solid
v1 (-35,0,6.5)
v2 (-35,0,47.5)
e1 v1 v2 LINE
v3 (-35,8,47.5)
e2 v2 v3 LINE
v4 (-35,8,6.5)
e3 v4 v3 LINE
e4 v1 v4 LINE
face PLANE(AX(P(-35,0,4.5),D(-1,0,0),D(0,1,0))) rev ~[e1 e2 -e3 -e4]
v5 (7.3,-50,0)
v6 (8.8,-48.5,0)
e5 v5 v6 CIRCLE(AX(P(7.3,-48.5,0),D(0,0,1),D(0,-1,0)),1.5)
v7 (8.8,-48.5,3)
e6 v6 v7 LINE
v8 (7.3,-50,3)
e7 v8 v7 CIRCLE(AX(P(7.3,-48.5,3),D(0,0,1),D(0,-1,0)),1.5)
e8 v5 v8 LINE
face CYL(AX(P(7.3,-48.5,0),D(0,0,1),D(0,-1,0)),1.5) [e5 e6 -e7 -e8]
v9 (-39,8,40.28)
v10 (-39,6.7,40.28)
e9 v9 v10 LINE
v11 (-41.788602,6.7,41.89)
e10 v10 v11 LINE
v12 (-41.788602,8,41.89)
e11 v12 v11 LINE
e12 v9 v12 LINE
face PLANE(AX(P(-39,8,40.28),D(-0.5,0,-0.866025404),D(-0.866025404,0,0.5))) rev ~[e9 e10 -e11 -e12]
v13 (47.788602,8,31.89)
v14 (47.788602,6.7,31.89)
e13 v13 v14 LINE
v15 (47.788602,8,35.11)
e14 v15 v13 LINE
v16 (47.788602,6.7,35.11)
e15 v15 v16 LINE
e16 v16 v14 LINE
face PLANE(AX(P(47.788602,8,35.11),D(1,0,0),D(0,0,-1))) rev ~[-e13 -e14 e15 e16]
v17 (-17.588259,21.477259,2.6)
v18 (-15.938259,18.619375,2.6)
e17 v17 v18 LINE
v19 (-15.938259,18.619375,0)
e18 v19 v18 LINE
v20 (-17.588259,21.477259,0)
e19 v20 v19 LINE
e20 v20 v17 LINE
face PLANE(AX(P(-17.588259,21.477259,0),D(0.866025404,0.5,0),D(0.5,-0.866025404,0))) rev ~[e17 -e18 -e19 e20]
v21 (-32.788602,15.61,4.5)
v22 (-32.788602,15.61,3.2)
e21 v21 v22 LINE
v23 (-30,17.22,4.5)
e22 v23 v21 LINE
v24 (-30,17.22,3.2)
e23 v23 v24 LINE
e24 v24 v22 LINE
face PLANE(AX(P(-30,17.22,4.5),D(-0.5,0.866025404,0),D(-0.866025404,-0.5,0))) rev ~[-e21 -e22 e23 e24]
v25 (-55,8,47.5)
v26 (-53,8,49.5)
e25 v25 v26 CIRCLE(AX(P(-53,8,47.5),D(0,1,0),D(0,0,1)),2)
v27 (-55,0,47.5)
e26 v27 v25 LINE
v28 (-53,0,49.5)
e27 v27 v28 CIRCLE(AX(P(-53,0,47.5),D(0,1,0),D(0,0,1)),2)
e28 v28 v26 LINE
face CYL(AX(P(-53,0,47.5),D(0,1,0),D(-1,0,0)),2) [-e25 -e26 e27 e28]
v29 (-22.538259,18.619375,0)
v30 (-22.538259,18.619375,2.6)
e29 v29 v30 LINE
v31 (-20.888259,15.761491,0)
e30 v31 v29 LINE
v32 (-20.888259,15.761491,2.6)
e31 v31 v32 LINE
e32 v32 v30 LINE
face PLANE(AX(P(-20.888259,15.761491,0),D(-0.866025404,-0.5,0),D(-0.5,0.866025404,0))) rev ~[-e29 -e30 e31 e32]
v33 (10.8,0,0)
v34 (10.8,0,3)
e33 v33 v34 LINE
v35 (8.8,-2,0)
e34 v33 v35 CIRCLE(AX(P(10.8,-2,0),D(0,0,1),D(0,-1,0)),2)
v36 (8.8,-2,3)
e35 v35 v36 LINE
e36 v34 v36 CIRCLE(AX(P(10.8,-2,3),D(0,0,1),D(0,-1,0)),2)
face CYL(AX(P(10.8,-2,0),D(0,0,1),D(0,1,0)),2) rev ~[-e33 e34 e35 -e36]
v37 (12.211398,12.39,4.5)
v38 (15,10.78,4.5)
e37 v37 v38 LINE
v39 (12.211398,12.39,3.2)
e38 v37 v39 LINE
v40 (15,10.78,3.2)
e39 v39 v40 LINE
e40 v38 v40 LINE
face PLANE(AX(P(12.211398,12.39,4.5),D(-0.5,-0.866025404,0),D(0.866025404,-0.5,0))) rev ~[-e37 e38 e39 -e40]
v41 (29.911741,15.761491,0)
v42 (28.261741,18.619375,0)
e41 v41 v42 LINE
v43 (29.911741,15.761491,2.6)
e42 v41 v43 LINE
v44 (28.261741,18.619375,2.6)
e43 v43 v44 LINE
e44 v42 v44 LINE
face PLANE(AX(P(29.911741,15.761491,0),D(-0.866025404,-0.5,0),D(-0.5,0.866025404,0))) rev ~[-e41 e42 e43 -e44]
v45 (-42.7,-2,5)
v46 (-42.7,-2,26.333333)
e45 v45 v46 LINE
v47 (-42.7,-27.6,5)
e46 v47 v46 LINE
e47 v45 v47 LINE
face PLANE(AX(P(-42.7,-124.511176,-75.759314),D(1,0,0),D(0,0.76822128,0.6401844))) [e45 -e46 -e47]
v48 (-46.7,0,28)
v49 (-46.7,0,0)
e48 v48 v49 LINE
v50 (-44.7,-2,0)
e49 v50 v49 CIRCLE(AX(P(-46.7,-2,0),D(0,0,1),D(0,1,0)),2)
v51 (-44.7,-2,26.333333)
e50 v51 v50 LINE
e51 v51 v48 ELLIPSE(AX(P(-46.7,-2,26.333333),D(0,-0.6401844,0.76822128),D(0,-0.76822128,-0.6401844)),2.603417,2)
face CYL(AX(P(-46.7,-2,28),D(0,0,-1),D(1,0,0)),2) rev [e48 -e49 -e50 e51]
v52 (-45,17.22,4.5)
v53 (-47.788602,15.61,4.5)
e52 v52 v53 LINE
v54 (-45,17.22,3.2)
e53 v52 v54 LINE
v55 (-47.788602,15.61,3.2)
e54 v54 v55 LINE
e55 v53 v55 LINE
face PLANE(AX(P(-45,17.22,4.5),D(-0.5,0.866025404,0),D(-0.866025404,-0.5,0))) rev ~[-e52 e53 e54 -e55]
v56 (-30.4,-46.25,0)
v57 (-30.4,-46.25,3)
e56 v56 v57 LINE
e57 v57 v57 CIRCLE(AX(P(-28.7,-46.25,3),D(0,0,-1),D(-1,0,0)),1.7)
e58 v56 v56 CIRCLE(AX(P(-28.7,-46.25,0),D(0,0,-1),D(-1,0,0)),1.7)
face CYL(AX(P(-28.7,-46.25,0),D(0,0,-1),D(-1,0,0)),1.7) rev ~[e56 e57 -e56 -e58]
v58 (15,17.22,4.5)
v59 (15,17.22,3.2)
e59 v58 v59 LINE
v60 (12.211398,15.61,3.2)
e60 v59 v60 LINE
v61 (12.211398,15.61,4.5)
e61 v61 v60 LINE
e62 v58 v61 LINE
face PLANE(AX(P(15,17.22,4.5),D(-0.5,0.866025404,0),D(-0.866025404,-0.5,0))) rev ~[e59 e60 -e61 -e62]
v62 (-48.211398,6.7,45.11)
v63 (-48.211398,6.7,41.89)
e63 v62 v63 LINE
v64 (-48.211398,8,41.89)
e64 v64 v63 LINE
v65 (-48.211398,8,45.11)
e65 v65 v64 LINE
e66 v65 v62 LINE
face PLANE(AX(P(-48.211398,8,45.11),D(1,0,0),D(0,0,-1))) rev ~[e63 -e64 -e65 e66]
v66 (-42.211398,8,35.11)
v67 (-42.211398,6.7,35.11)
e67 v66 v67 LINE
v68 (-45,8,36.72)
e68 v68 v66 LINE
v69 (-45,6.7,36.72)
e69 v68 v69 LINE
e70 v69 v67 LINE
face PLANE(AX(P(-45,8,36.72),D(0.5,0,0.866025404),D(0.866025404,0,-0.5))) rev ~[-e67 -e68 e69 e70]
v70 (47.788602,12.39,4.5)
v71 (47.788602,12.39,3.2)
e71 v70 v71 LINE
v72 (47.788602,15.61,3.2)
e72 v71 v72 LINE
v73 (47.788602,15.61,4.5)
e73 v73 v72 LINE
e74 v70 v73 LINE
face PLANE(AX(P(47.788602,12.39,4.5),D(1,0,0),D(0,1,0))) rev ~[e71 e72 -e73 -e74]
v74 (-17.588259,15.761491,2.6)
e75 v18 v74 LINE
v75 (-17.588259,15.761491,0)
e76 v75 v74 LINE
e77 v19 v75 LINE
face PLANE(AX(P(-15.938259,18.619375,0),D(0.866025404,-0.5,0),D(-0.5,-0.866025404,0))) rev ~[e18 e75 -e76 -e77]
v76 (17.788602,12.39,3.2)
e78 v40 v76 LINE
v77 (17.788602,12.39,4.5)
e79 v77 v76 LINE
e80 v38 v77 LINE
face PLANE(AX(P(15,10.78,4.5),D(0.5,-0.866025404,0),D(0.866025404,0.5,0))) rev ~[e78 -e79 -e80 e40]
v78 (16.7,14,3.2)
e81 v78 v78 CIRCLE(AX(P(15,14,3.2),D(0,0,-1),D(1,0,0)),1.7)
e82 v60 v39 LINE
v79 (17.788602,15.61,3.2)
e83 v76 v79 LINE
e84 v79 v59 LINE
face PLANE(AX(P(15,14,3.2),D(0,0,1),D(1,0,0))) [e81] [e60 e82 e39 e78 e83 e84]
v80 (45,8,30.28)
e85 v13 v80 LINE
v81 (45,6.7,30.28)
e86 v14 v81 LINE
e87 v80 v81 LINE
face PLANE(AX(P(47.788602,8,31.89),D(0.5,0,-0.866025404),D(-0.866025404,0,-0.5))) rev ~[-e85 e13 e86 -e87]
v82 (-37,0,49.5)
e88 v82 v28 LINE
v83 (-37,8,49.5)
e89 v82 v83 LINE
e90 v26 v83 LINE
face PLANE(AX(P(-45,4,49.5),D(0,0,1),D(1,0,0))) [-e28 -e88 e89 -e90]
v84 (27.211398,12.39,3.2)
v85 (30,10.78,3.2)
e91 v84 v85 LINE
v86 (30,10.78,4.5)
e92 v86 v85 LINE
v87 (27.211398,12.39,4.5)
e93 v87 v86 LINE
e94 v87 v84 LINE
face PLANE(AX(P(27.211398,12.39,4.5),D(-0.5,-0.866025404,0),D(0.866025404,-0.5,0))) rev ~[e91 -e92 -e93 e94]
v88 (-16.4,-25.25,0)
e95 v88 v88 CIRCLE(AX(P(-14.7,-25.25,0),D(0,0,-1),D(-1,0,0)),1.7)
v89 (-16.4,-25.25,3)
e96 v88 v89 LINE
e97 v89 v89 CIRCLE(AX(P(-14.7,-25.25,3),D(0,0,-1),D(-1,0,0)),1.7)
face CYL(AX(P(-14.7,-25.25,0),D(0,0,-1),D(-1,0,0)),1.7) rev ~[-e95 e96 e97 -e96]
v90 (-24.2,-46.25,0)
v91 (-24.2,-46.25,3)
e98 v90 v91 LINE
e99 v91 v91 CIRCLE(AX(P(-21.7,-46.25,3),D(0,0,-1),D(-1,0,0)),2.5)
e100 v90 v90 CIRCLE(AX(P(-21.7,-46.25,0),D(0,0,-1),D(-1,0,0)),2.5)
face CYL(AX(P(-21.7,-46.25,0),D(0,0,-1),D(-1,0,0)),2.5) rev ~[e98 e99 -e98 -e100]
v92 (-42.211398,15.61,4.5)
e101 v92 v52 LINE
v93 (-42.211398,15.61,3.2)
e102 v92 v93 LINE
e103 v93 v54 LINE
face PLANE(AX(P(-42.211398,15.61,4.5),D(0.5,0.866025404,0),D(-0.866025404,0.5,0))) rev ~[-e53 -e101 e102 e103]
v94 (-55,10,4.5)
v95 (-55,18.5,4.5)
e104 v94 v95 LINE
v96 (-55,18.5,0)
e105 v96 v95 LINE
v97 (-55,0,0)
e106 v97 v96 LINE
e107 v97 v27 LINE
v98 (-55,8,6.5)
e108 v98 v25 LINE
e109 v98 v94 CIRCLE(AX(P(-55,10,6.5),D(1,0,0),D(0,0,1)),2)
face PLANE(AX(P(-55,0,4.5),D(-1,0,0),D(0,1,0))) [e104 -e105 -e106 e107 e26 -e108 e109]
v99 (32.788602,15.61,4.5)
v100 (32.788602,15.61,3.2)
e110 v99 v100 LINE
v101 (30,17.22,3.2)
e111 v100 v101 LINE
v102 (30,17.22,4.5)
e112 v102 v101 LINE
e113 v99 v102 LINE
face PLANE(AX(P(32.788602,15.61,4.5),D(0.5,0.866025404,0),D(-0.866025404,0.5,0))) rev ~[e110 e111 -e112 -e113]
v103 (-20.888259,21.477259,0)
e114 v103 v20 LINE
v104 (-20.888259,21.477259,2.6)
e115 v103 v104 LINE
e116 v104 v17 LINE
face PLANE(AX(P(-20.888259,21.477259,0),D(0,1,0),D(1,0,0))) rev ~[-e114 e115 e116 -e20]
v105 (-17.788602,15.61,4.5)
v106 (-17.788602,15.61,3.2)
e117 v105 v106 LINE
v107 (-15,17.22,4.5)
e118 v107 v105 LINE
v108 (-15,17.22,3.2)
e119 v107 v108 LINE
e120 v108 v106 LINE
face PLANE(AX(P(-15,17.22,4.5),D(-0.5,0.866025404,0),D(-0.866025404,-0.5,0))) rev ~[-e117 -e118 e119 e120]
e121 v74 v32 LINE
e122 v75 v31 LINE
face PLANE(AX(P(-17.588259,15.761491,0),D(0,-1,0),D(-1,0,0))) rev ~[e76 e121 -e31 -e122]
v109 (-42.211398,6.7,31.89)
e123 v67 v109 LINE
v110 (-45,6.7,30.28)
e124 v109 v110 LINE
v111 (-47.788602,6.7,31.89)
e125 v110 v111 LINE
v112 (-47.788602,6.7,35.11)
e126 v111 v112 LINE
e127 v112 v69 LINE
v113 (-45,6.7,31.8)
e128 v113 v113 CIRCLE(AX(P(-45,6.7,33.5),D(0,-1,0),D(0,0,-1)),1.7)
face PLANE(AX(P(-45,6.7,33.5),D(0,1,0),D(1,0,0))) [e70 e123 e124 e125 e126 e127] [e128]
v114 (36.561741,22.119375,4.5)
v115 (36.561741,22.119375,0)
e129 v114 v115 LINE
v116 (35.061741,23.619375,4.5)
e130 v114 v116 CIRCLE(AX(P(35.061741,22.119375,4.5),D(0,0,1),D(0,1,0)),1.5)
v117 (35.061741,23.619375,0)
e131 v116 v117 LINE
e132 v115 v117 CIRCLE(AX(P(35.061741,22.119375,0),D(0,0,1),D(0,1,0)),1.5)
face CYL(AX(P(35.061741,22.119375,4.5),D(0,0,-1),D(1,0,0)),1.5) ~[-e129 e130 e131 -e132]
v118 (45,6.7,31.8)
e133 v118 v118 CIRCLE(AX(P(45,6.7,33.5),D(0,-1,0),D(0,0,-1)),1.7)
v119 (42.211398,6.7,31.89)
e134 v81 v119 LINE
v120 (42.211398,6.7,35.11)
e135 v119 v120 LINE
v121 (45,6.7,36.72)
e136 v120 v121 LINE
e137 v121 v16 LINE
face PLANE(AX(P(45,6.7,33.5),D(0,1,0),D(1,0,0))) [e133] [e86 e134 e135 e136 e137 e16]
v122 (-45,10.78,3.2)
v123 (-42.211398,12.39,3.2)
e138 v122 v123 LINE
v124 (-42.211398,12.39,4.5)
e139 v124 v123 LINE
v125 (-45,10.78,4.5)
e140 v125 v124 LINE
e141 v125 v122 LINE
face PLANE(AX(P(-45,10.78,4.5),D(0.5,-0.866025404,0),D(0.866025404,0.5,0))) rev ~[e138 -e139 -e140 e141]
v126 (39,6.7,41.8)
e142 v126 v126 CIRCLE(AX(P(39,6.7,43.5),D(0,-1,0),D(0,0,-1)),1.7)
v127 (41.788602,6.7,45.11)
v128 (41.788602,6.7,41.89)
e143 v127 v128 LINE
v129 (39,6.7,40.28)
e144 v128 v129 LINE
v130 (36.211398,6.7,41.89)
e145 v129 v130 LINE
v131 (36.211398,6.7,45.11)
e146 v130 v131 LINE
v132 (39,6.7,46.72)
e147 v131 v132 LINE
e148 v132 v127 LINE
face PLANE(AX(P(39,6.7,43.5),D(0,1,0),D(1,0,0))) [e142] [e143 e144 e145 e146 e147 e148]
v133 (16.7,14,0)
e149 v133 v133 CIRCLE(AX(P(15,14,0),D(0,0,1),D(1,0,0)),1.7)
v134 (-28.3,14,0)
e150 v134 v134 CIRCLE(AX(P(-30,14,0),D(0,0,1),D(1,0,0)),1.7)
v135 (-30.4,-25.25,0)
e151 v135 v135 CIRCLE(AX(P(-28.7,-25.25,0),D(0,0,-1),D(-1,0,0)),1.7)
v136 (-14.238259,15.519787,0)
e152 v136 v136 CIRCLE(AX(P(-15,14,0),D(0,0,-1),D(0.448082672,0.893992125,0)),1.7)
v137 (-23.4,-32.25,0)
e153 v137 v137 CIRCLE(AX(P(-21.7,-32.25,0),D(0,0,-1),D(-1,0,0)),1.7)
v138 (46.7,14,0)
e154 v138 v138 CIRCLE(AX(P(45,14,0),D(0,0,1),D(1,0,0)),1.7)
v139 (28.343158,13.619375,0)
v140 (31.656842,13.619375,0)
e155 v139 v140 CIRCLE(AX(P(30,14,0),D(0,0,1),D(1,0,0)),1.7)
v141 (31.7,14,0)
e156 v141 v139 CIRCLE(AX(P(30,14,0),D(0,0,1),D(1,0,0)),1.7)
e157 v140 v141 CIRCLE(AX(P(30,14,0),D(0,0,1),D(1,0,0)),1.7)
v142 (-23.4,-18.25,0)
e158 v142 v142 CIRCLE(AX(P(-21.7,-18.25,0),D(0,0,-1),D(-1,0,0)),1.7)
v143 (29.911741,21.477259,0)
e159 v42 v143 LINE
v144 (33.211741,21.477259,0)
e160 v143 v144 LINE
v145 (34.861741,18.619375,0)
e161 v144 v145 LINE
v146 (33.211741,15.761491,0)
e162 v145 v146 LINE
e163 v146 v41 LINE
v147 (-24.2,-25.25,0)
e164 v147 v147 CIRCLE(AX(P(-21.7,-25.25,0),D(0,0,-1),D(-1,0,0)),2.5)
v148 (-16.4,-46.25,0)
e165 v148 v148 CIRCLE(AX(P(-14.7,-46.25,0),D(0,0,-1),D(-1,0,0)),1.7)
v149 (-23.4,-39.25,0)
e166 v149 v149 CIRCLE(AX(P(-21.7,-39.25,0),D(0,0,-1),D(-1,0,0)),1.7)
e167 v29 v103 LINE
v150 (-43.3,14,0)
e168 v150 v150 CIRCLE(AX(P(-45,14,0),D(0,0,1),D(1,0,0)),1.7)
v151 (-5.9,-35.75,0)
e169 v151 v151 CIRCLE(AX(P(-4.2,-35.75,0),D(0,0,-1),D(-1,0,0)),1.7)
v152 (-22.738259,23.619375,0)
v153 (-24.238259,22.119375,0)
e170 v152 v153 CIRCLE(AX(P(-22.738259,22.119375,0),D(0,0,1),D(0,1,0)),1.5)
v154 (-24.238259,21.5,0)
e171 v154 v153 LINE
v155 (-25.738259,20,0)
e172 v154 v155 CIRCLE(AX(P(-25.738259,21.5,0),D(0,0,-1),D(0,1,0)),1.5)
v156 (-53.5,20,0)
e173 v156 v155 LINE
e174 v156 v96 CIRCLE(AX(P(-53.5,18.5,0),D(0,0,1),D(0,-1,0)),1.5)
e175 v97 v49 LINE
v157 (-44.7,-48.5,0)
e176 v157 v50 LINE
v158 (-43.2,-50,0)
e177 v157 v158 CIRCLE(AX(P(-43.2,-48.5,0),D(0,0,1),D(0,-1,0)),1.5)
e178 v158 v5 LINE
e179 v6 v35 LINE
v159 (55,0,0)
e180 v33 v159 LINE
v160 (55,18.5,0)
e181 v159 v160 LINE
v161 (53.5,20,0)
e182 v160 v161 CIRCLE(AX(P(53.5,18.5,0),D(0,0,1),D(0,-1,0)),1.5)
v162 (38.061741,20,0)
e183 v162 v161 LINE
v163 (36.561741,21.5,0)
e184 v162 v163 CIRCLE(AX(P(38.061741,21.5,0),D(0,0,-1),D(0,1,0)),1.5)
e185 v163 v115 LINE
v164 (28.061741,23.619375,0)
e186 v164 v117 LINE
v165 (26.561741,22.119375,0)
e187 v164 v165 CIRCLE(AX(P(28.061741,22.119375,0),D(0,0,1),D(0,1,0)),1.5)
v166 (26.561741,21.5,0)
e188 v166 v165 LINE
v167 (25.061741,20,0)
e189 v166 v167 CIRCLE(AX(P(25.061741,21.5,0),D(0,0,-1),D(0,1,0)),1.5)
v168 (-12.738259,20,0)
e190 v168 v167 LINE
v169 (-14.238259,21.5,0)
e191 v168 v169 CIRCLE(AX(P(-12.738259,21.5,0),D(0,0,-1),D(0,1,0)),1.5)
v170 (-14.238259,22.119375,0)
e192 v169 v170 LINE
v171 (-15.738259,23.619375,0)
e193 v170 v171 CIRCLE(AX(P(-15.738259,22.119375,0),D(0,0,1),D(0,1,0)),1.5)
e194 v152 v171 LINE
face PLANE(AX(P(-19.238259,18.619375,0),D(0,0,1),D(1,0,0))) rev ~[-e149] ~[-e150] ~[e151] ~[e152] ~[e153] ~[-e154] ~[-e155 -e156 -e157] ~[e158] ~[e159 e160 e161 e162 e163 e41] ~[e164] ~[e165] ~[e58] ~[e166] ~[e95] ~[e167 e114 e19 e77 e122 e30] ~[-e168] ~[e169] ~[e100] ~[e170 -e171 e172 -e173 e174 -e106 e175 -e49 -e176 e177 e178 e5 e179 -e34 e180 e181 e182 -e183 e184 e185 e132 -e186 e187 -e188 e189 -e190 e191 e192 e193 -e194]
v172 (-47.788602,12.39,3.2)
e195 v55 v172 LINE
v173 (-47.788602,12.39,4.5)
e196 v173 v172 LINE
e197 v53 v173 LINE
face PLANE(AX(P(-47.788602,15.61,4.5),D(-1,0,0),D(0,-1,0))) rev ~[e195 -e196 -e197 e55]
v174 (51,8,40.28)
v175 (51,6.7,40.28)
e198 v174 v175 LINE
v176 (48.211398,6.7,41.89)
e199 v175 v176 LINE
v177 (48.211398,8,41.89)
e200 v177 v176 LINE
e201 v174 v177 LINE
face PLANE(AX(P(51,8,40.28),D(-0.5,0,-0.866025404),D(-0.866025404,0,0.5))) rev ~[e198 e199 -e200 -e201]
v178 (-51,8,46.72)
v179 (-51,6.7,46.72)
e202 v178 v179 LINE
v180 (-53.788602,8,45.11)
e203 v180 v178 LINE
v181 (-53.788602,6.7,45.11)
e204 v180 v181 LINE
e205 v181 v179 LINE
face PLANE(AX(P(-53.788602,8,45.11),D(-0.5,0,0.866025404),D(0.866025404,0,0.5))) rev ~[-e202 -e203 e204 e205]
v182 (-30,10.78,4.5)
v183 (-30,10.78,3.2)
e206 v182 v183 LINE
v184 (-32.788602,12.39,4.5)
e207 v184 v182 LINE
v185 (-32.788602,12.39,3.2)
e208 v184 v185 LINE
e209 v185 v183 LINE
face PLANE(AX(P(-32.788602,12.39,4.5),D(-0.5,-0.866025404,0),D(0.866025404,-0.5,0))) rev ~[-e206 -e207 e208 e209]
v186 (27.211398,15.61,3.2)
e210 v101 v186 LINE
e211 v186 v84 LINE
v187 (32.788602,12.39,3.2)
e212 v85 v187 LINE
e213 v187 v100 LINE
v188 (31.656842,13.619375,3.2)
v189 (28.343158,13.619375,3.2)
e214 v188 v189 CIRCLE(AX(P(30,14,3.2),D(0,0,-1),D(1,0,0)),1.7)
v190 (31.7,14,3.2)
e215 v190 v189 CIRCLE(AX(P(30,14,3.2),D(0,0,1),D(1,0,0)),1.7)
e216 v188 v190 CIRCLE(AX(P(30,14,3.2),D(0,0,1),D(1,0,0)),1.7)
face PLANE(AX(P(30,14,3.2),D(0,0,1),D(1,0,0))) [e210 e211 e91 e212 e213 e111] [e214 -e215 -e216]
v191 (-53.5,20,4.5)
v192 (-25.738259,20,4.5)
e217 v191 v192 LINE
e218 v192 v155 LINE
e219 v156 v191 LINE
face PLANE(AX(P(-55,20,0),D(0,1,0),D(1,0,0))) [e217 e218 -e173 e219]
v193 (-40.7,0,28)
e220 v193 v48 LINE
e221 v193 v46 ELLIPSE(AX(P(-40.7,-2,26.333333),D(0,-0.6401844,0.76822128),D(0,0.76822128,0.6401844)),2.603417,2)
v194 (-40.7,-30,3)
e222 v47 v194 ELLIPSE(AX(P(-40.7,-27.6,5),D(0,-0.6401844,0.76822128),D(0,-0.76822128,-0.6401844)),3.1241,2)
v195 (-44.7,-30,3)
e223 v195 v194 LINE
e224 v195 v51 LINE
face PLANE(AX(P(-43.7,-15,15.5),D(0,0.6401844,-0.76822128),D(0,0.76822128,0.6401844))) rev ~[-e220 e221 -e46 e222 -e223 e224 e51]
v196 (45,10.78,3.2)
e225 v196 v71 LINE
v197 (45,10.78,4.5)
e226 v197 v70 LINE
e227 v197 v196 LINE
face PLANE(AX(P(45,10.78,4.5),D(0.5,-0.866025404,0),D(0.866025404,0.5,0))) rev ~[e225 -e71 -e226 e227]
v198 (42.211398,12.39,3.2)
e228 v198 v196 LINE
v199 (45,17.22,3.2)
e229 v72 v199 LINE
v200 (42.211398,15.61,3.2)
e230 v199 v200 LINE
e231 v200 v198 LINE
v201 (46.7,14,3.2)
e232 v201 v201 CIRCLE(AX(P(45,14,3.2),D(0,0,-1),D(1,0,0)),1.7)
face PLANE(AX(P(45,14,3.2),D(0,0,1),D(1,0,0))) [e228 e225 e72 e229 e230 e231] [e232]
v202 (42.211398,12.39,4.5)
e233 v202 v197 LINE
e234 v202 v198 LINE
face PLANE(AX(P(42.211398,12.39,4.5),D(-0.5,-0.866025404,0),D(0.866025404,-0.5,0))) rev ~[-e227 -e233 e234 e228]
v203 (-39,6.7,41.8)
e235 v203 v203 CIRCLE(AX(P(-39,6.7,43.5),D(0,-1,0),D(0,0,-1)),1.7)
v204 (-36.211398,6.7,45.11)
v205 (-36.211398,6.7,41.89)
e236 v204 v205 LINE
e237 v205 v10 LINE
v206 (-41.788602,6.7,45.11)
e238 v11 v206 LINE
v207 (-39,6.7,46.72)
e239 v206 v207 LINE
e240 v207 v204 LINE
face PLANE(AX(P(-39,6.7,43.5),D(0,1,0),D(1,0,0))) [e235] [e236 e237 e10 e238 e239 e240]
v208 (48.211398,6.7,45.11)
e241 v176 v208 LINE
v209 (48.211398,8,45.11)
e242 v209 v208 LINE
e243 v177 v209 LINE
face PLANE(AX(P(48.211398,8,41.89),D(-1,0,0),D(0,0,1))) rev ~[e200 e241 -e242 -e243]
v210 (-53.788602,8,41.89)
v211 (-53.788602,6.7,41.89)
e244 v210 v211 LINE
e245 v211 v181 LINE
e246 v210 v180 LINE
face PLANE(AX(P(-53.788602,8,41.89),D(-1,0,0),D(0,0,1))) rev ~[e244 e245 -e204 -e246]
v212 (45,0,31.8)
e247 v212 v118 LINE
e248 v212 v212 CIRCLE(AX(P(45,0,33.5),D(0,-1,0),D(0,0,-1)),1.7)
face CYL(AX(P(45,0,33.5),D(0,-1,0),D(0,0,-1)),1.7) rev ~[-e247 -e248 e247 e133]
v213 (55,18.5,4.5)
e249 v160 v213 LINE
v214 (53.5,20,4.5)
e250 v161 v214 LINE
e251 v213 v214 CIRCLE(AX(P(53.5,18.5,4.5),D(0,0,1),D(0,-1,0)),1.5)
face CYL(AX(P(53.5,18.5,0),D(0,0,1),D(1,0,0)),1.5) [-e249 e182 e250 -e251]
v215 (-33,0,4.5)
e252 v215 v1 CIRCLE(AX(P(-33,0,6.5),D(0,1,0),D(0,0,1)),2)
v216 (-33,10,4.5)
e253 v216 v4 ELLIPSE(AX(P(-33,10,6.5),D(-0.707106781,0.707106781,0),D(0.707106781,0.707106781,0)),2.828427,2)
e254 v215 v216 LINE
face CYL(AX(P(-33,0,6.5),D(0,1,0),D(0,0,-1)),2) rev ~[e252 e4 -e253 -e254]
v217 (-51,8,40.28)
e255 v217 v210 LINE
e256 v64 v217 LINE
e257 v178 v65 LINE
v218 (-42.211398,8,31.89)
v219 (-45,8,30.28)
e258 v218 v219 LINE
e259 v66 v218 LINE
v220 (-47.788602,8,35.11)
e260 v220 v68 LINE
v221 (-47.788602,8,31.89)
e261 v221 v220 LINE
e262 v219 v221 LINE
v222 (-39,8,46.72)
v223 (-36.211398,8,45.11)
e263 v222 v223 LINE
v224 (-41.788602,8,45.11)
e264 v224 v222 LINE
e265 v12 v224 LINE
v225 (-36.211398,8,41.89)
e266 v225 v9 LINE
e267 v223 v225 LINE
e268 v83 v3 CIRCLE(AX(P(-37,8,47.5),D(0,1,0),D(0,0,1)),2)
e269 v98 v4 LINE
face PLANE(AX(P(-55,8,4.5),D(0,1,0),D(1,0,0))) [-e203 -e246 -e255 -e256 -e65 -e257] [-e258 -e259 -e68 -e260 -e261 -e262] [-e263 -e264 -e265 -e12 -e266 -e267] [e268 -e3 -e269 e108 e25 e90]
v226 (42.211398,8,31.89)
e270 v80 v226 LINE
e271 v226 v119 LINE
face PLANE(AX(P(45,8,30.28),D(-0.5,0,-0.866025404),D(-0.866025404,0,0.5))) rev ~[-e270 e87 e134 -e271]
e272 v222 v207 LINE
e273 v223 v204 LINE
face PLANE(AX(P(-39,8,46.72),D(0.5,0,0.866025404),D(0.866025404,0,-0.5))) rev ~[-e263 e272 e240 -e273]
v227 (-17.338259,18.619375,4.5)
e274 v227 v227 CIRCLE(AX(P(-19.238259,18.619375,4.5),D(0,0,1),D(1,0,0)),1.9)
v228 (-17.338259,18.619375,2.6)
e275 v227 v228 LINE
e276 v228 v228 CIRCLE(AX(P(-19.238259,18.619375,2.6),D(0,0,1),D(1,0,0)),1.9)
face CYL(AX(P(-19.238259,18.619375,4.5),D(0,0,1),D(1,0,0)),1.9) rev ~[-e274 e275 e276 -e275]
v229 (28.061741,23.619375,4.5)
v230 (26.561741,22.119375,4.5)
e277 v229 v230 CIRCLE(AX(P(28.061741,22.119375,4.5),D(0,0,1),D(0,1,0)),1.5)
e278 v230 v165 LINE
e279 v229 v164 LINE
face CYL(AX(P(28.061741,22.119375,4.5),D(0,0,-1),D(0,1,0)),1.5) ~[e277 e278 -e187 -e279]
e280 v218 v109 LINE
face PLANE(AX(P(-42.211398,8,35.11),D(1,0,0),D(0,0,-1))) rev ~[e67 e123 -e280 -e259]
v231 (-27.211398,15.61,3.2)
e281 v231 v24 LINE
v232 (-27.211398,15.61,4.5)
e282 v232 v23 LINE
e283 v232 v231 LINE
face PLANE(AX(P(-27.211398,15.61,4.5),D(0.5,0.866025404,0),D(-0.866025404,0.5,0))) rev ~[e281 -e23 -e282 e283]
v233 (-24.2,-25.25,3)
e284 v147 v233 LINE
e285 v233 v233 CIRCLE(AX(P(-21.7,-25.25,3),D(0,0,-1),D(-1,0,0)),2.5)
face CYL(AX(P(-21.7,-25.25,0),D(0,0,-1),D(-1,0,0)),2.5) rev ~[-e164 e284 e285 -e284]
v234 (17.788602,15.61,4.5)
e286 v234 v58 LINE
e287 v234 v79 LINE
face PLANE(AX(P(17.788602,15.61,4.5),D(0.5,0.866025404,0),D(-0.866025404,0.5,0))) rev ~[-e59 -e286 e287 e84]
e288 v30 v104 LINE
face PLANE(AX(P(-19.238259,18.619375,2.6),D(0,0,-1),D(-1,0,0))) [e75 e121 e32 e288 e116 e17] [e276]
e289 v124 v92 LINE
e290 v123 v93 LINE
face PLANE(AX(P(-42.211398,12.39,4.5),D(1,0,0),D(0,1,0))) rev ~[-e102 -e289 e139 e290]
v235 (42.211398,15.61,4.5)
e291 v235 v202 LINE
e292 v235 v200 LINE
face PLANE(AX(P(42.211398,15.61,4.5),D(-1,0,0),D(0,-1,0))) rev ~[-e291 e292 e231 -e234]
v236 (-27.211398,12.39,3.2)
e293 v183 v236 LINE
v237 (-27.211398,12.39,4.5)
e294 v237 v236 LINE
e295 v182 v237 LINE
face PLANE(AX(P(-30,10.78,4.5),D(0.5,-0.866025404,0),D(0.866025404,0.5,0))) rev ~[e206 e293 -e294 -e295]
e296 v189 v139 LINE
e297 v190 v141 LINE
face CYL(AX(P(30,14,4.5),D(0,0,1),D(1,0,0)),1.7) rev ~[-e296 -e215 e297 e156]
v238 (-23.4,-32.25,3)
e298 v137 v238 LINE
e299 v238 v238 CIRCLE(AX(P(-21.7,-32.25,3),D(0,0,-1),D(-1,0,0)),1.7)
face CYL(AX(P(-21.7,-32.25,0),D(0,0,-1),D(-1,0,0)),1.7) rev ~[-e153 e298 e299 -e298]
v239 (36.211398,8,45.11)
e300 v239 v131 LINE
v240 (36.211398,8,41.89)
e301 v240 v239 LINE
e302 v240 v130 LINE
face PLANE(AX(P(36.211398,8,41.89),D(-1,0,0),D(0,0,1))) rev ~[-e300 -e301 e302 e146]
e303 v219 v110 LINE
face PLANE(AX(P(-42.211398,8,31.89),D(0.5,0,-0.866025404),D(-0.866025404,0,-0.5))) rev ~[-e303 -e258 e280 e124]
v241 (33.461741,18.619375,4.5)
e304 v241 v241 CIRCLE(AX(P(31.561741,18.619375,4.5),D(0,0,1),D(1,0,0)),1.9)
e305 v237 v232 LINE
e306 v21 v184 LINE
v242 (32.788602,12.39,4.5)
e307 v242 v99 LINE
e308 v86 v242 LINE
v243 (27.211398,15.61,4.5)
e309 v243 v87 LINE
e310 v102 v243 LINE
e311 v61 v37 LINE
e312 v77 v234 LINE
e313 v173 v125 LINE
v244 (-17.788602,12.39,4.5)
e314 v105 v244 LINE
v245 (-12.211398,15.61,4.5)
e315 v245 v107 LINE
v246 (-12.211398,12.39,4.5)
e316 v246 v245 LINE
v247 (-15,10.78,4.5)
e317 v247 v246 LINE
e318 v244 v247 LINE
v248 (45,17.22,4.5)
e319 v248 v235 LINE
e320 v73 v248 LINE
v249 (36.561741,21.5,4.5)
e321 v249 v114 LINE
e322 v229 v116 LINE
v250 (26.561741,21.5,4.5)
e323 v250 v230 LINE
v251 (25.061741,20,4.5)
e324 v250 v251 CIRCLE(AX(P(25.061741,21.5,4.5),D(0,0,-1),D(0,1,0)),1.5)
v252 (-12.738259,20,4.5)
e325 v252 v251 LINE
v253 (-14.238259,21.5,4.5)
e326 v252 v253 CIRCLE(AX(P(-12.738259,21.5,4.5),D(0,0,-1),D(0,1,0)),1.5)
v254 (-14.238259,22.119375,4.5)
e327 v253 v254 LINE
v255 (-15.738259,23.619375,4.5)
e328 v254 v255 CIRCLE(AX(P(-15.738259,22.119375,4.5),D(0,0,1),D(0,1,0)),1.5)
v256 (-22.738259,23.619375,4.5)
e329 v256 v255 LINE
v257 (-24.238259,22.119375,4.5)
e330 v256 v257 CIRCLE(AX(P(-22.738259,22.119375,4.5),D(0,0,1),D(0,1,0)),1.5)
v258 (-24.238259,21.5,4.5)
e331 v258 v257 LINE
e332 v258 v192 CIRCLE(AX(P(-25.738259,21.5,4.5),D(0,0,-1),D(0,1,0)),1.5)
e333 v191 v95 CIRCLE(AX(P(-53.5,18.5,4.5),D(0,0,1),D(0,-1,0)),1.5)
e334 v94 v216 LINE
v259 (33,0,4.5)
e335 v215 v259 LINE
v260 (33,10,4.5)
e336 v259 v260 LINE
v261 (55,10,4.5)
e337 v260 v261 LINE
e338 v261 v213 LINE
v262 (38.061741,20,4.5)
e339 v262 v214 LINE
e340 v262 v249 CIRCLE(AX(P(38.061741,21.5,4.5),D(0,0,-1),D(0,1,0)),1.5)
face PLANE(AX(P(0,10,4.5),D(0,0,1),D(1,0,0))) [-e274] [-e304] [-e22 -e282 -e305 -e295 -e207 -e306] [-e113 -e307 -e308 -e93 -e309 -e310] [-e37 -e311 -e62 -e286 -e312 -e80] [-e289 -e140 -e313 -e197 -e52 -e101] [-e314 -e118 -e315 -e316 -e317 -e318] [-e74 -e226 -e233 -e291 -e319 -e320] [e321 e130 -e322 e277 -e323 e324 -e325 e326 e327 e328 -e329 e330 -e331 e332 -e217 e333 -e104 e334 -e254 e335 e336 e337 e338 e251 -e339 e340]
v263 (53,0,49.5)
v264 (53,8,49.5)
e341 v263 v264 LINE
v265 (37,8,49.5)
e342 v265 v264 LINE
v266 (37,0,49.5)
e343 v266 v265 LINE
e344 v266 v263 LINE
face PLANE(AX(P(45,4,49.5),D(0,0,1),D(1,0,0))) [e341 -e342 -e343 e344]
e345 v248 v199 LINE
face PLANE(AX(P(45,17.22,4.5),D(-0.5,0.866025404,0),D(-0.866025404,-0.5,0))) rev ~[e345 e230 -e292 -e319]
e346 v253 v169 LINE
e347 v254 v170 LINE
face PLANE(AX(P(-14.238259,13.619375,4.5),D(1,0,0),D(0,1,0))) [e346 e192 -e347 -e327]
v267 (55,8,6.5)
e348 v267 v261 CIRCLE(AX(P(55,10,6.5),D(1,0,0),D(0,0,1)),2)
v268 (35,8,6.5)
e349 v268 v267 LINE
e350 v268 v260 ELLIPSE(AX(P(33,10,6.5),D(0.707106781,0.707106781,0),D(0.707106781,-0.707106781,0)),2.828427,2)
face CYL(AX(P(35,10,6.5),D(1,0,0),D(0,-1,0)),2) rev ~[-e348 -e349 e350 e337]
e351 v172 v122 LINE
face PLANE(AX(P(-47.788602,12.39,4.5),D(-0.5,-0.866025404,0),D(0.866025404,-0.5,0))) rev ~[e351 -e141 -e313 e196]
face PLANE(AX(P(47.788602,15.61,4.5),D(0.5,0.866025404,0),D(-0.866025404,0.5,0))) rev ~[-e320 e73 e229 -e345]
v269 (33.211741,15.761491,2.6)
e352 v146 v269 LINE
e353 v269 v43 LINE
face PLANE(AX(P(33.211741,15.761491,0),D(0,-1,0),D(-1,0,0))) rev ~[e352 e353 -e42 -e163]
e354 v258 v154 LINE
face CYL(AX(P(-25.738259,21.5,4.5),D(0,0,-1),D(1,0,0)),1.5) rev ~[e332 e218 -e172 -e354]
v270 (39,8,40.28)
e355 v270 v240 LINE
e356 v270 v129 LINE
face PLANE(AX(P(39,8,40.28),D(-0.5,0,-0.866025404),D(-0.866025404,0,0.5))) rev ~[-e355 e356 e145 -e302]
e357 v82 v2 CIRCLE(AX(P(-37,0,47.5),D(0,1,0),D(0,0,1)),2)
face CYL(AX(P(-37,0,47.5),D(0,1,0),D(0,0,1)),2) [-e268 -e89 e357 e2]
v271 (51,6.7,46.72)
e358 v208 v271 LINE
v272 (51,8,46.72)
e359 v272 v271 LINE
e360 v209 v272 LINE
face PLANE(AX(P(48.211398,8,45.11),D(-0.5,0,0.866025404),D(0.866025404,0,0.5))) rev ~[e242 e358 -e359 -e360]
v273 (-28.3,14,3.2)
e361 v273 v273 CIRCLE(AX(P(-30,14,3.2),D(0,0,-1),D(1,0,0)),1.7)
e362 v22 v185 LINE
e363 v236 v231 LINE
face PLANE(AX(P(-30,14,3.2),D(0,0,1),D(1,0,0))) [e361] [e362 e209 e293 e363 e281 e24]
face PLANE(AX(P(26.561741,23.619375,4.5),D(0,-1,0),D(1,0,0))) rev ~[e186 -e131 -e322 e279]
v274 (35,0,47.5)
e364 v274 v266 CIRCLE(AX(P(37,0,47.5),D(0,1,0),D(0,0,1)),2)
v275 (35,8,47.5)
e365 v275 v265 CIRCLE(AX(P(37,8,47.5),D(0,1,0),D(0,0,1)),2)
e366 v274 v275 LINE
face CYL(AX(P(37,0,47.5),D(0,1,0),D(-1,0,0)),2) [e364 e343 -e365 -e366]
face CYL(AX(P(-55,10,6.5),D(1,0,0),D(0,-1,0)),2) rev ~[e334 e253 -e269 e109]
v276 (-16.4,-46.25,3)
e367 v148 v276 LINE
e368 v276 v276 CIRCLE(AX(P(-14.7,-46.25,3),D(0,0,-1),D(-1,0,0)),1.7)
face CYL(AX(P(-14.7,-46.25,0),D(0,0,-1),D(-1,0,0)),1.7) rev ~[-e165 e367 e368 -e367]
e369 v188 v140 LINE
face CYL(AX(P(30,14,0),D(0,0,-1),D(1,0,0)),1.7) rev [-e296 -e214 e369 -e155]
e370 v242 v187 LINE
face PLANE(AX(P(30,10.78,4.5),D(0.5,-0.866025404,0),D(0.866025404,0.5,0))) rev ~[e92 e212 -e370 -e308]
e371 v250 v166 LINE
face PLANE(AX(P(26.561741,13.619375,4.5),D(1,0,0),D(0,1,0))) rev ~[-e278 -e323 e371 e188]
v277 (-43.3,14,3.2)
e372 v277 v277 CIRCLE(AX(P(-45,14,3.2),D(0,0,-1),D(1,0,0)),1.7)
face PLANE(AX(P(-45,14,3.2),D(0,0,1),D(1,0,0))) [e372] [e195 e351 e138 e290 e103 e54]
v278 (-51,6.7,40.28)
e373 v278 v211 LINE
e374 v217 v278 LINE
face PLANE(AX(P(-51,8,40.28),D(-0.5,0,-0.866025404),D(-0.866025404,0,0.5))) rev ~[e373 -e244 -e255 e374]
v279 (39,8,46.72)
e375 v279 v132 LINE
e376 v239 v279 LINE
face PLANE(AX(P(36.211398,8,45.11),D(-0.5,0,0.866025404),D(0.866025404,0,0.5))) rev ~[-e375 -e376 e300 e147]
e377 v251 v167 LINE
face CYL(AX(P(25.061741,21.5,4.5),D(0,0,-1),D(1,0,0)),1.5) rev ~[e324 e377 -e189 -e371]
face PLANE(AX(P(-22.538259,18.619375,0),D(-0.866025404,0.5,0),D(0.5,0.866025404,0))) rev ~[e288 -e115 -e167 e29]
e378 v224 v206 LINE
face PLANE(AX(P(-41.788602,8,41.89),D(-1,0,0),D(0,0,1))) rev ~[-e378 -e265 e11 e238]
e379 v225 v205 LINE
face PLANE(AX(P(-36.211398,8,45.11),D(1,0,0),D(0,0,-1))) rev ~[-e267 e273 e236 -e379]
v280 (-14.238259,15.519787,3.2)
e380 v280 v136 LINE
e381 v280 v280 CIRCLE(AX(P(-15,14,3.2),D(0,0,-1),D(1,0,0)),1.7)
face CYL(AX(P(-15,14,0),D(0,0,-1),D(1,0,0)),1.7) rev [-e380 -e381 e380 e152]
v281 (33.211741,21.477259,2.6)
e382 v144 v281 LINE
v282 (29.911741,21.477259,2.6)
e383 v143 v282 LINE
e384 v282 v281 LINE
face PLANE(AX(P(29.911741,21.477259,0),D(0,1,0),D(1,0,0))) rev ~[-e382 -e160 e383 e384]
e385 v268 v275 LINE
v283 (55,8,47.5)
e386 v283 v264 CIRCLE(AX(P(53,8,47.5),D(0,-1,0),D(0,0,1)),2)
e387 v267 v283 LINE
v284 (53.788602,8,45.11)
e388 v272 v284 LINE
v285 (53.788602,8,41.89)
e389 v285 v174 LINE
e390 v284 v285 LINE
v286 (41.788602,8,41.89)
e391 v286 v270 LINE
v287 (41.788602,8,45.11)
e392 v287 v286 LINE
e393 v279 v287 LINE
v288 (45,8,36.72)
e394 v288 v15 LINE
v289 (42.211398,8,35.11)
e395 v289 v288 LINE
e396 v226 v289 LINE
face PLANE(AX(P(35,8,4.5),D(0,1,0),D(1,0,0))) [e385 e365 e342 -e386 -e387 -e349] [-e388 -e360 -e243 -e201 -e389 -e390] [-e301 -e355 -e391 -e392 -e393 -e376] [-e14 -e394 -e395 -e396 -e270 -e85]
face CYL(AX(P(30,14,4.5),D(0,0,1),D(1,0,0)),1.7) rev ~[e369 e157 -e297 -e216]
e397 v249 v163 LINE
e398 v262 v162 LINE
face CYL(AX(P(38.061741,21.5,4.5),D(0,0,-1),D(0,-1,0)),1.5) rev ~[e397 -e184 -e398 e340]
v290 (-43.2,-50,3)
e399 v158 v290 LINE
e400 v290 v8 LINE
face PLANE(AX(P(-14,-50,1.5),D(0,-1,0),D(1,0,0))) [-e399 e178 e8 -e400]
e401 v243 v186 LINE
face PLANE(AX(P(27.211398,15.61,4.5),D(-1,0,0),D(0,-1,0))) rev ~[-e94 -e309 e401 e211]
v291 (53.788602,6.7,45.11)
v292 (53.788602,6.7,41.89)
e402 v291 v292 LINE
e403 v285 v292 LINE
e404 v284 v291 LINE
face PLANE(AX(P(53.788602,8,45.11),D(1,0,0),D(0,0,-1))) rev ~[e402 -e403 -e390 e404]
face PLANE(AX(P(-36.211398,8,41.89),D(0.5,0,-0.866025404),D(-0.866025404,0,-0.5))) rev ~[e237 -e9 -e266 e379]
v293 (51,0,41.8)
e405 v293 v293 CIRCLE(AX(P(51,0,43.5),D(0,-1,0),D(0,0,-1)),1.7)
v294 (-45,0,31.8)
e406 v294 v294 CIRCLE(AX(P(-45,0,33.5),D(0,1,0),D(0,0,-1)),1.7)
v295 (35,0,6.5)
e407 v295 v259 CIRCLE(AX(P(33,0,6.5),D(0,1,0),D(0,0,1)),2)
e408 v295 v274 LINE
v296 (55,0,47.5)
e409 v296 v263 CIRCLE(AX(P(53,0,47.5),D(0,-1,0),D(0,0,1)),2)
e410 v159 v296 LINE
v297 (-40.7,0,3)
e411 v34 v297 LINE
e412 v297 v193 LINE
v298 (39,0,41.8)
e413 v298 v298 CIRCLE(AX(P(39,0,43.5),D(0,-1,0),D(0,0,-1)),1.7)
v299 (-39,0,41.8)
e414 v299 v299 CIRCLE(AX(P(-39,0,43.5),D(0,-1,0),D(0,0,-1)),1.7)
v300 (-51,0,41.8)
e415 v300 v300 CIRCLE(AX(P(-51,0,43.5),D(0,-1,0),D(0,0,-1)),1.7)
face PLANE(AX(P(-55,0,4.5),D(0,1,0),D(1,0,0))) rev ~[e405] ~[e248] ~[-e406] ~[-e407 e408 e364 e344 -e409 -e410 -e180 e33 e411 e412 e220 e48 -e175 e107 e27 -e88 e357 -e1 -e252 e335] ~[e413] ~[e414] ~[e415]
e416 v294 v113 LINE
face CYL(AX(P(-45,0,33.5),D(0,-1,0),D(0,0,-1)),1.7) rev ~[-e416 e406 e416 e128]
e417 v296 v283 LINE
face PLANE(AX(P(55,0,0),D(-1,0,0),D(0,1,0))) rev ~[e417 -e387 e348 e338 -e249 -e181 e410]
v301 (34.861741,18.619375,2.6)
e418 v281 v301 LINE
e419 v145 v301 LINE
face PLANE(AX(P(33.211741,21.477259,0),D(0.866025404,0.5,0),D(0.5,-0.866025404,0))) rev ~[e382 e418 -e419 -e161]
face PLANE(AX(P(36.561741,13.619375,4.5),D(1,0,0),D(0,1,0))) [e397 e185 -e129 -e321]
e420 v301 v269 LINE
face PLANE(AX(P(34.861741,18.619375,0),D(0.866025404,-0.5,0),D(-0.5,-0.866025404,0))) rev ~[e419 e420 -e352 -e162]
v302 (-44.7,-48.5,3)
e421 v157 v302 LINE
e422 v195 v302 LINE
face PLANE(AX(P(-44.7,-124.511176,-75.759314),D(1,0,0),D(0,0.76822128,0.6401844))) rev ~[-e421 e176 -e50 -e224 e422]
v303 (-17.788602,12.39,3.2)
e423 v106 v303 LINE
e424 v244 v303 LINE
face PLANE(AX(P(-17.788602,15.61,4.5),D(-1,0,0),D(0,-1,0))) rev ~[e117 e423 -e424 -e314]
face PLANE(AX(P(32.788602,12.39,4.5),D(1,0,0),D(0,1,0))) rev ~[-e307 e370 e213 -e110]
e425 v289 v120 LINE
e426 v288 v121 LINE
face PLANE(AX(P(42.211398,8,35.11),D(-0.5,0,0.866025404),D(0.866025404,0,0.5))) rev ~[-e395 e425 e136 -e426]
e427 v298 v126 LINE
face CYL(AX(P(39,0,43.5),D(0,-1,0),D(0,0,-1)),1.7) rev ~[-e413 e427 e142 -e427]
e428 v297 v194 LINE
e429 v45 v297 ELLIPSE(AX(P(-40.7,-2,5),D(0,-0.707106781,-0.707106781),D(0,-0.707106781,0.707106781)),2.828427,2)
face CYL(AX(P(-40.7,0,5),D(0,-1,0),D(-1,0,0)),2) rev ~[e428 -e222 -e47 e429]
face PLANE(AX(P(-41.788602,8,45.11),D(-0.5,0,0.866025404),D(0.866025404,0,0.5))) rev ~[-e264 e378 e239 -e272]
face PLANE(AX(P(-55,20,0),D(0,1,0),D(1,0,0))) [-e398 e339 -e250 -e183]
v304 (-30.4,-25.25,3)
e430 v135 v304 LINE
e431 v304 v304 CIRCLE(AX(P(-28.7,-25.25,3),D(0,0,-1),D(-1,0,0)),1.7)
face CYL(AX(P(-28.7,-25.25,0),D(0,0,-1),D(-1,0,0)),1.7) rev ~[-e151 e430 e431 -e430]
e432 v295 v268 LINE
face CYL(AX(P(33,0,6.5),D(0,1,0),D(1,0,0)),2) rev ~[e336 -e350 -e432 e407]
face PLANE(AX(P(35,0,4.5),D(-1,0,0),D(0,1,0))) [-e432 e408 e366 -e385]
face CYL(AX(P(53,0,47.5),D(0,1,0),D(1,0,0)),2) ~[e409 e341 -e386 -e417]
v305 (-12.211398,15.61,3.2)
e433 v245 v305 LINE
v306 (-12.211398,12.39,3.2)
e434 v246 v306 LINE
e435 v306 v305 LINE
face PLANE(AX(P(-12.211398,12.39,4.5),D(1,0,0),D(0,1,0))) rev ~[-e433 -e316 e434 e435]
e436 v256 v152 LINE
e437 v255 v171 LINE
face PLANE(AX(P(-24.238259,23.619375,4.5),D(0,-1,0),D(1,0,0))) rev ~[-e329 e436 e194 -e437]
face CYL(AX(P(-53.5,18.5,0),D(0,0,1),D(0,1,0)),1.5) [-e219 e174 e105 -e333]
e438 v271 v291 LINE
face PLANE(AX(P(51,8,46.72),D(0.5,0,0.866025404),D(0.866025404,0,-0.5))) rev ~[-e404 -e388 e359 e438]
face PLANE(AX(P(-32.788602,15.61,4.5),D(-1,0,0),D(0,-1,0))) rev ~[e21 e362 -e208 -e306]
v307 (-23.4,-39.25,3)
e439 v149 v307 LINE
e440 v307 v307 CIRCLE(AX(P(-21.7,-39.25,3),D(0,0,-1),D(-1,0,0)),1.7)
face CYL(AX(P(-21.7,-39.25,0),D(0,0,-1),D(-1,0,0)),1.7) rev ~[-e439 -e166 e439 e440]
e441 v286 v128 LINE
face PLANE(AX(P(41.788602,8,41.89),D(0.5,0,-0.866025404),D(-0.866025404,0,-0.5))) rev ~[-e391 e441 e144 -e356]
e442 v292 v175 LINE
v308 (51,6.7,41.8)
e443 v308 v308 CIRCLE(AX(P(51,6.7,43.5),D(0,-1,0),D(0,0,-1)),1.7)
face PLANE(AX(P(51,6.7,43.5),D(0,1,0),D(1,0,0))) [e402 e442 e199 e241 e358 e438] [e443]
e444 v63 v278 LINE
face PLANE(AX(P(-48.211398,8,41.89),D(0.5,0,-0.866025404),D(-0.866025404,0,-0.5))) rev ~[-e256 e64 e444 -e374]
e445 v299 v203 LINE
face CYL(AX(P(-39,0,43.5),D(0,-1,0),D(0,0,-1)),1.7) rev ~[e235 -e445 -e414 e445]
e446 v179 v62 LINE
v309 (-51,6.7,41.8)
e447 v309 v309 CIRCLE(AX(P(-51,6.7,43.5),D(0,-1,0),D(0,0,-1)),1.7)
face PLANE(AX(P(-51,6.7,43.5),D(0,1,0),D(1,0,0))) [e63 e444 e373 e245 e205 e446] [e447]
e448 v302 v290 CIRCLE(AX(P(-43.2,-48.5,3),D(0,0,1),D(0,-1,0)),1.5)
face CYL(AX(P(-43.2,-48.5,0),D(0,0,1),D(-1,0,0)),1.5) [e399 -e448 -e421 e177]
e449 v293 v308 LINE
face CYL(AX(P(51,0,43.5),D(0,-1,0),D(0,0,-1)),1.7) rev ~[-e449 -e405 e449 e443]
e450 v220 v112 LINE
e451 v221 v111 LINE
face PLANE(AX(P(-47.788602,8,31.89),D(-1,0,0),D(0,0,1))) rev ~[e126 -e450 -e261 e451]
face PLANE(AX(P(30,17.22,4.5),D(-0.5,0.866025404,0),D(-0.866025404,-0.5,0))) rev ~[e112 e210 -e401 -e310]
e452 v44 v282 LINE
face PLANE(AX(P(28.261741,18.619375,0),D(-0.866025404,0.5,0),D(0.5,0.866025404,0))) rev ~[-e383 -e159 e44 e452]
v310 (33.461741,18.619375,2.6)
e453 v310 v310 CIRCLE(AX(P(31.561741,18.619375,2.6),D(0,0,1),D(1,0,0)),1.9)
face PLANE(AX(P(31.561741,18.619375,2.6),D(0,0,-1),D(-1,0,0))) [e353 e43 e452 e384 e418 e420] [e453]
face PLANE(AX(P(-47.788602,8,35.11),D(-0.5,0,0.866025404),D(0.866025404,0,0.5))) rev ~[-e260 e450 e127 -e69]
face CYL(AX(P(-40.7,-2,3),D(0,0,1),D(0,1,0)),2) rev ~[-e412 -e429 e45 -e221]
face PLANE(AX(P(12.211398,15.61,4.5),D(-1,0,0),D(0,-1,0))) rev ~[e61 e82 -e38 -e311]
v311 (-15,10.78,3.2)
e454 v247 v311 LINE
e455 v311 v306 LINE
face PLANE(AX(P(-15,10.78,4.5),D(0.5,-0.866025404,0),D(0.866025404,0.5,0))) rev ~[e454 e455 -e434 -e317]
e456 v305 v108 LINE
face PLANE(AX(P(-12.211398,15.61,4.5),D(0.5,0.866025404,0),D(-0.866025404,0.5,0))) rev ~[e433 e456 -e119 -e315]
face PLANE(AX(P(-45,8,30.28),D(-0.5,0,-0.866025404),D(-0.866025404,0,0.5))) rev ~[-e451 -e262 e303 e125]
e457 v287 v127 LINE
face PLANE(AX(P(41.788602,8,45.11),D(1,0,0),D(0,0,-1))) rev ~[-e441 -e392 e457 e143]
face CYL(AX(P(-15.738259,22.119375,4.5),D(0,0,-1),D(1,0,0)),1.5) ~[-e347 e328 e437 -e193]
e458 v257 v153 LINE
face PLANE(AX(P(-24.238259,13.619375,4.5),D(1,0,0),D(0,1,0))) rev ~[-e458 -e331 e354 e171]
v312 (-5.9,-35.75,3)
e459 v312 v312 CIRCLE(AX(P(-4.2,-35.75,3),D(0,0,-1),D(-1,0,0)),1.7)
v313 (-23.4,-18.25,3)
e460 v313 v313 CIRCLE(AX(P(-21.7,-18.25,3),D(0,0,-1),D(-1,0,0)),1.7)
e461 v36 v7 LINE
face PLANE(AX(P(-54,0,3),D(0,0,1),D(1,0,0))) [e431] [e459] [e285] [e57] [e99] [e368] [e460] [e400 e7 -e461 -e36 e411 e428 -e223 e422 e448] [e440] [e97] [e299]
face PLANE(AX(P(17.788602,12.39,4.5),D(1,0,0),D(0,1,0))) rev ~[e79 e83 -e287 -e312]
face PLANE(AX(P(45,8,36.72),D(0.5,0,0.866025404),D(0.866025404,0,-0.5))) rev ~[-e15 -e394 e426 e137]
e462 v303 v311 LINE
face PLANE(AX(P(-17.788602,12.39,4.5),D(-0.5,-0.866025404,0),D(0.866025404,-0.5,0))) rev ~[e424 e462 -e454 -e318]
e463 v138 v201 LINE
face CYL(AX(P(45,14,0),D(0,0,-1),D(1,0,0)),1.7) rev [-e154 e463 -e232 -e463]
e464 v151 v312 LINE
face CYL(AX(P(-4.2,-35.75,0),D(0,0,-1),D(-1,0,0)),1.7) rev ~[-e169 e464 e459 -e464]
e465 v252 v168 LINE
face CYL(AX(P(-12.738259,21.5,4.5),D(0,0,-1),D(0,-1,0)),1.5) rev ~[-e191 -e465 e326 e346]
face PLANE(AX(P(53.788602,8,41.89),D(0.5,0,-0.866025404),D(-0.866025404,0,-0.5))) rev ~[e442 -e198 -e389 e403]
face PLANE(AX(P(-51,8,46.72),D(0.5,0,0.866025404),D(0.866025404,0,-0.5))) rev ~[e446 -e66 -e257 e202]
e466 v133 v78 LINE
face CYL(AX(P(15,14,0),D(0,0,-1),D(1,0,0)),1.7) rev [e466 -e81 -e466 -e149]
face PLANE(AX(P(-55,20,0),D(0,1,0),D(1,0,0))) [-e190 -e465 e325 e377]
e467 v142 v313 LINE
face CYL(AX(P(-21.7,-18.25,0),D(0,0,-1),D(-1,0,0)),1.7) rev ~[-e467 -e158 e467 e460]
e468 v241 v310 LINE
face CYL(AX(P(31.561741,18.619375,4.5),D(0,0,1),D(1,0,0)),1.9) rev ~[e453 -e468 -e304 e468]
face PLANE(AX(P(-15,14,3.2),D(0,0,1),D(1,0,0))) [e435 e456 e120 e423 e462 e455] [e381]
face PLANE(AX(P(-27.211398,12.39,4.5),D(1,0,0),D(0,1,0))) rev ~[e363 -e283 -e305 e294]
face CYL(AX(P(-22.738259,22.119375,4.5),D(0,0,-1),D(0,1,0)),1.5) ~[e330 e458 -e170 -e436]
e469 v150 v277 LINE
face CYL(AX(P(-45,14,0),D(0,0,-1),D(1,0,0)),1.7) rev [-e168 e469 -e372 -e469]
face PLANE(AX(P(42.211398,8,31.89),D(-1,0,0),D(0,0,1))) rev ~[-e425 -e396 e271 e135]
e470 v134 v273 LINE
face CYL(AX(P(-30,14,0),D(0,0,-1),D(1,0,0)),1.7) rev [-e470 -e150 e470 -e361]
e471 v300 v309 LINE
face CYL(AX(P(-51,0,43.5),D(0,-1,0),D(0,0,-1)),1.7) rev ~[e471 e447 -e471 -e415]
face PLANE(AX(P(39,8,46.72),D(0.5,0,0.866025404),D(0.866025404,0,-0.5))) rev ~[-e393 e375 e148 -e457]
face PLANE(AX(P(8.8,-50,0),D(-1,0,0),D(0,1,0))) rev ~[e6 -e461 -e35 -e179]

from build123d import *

# Parameters (mm, degrees)
SKETCH_1_W          = 110
SKETCH_1_H          = 20
SKETCH_1_R          = 1.7
EXTRUDE_1_DEPTH     = 4.5
SKETCH_2_W          = 20
SKETCH_2_H          = 8
EXTRUDE_2_DEPTH     = 45
SKETCH_4_W          = 10
SKETCH_4_H          = 10
EXTRUDE_3_DEPTH     = 4.5
SKETCH_5_R          = 1.9
SKETCH_5_R_2        = 1.7
CUT_EXTRUDE_1_DEPTH = 75.885745444
CUT_EXTRUDE_2_DEPTH = 1.3
CUT_EXTRUDE_3_DEPTH = 2.6
SKETCH_7_R          = 1.7
CUT_EXTRUDE_5_DEPTH = 78.673192742
CUT_EXTRUDE_6_DEPTH = 1.3
SKETCH_9_W          = 80
SKETCH_9_H          = 3
EXTRUDE_4_DEPTH     = 50
SKETCH_11_W         = 17.2
SKETCH_11_H         = 50
SKETCH_11_W_2       = 9.3
SKETCH_11_R         = 2.5
SKETCH_11_R_2       = 1.7
CUT_EXTRUDE_7_DEPTH = 90.304255218
RIB_4_REACH         = 124.026
SKETCH_12_WALL_W    = 285.10321006
SKETCH_12_WALL_H    = 2
FILLET_1_R          = 2
FILLET_2_R          = 1.5
FILLET_3_R          = 2


with BuildPart() as part:
    # 草图1 → 凸台-拉伸1 (new body)
    with BuildSketch(Plane.XY):
        with Locations((0, 10)):
            Rectangle(SKETCH_1_W, SKETCH_1_H)
        with Locations((-45, 14)):
            Circle(SKETCH_1_R, mode=Mode.SUBTRACT)
        with Locations((-30, 14)):
            Circle(SKETCH_1_R, mode=Mode.SUBTRACT)
        with Locations((-15, 14)):
            Circle(SKETCH_1_R, mode=Mode.SUBTRACT)
        with Locations((15, 14)):
            Circle(SKETCH_1_R, mode=Mode.SUBTRACT)
        with Locations((30, 14)):
            Circle(SKETCH_1_R, mode=Mode.SUBTRACT)
        with Locations((45, 14)):
            Circle(SKETCH_1_R, mode=Mode.SUBTRACT)
    extrude(amount=EXTRUDE_1_DEPTH)

    # 草图2 → 凸台-拉伸2 (add)
    with BuildSketch(Plane.XY.offset(4.5)):
        with Locations((-45, 4)):
            Rectangle(SKETCH_2_W, SKETCH_2_H)
        with Locations((45, 4)):
            Rectangle(SKETCH_2_W, SKETCH_2_H)
    extrude(amount=EXTRUDE_2_DEPTH)

    # 草图4 → 凸台-拉伸3 (add)
    with BuildSketch(Plane.XY.offset(4.5)):
        with Locations((-19.238259457, 18.6193749)):
            Rectangle(SKETCH_4_W, SKETCH_4_H)
        with Locations((31.561740543, 18.6193749)):
            Rectangle(SKETCH_4_W, SKETCH_4_H)
    extrude(amount=-EXTRUDE_3_DEPTH)

    # 草图5 → 切除-拉伸1 (cut, through all)
    with BuildSketch(Plane.XY.offset(4.5)):
        with Locations((-19.238259457, 18.6193749)):
            Circle(SKETCH_5_R)
        with Locations((31.561740543, 18.6193749)):
            Circle(SKETCH_5_R)
        with Locations((-15, 14)):
            Circle(SKETCH_5_R_2)
        with Locations((30, 14)):
            Circle(SKETCH_5_R_2)
    extrude(amount=-CUT_EXTRUDE_1_DEPTH, mode=Mode.SUBTRACT)

    # 草图3 → 切除-拉伸2 (cut)
    with BuildSketch(Plane.XY.offset(4.5)):
        Polygon((-45, 17.22), (-47.7886018, 15.61), (-47.7886018, 12.39), (-45, 10.78), (-42.2113982, 12.39), (-42.2113982, 15.61), align=None)
        Polygon((-30, 17.22), (-32.7886018, 15.61), (-32.7886018, 12.39), (-30, 10.78), (-27.2113982, 12.39), (-27.2113982, 15.61), align=None)
        Polygon((-15, 17.22), (-17.7886018, 15.61), (-17.7886018, 12.39), (-15, 10.78), (-12.2113982, 12.39), (-12.2113982, 15.61), align=None)
        Polygon((15, 17.22), (12.2113982, 15.61), (12.2113982, 12.39), (15, 10.78), (17.7886018, 12.39), (17.7886018, 15.61), align=None)
        Polygon((30, 17.22), (27.2113982, 15.61), (27.2113982, 12.39), (30, 10.78), (32.7886018, 12.39), (32.7886018, 15.61), align=None)
        Polygon((45, 17.22), (42.2113982, 15.61), (42.2113982, 12.39), (45, 10.78), (47.7886018, 12.39), (47.7886018, 15.61), align=None)
    extrude(amount=-CUT_EXTRUDE_2_DEPTH, mode=Mode.SUBTRACT)

    # 草图6 → 切除-拉伸3 (cut)
    with BuildSketch(Plane(origin=(0, 0, 0), x_dir=(-1, 0, 0), z_dir=(0, 0, -1))):
        Polygon((-34.861740543, 18.6193749), (-33.211740543, 15.761491068), (-29.911740543, 15.761491068), (-28.261740543, 18.6193749), (-29.911740543, 21.477258733), (-33.211740543, 21.477258733), align=None)
        Polygon((15.938259457, 18.6193749), (17.588259457, 15.761491068), (20.888259457, 15.761491068), (22.538259457, 18.6193749), (20.888259457, 21.477258733), (17.588259457, 21.477258733), align=None)
    extrude(amount=-CUT_EXTRUDE_3_DEPTH, mode=Mode.SUBTRACT)

    # 草图7 → 切除-拉伸5 (cut, through all)
    with BuildSketch(Plane.XZ):
        with Locations(Location((-51, 43.5, 0), (0, 0, 270))):
            Circle(SKETCH_7_R)
        with Locations(Location((-39, 43.5, 0), (0, 0, 270))):
            Circle(SKETCH_7_R)
        with Locations(Location((-45, 33.5, 0), (0, 0, 270))):
            Circle(SKETCH_7_R)
        with Locations(Location((51, 43.5, 0), (0, 0, 270))):
            Circle(SKETCH_7_R)
        with Locations(Location((39, 43.5, 0), (0, 0, 270))):
            Circle(SKETCH_7_R)
        with Locations(Location((45, 33.5, 0), (0, 0, 270))):
            Circle(SKETCH_7_R)
    extrude(amount=-CUT_EXTRUDE_5_DEPTH, mode=Mode.SUBTRACT)

    # 草图8 → 切除-拉伸6 (cut)
    with BuildSketch(Plane(origin=(0, 8, 0), x_dir=(1, 0, 0), z_dir=(0, 1, 0))):
        Polygon((51, -46.72), (53.7886018, -45.11), (53.7886018, -41.89), (51, -40.28), (48.2113982, -41.89), (48.2113982, -45.11), align=None)
        Polygon((39, -46.72), (41.7886018, -45.11), (41.7886018, -41.89), (39, -40.28), (36.2113982, -41.89), (36.2113982, -45.11), align=None)
        Polygon((45, -36.72), (47.7886018, -35.11), (47.7886018, -31.89), (45, -30.28), (42.2113982, -31.89), (42.2113982, -35.11), align=None)
        Polygon((-39, -46.72), (-36.2113982, -45.11), (-36.2113982, -41.89), (-39, -40.28), (-41.7886018, -41.89), (-41.7886018, -45.11), align=None)
        Polygon((-51, -46.72), (-48.2113982, -45.11), (-48.2113982, -41.89), (-51, -40.28), (-53.7886018, -41.89), (-53.7886018, -45.11), align=None)
        Polygon((-45, -36.72), (-42.2113982, -35.11), (-42.2113982, -31.89), (-45, -30.28), (-47.7886018, -31.89), (-47.7886018, -35.11), align=None)
    extrude(amount=-CUT_EXTRUDE_6_DEPTH, mode=Mode.SUBTRACT)

    # 草图9 → 凸台-拉伸4 (add)
    with BuildSketch(Plane.XZ):
        with Locations((-14, 1.5)):
            Rectangle(SKETCH_9_W, SKETCH_9_H)
    extrude(amount=EXTRUDE_4_DEPTH)

    # 草图11 → 切除-拉伸7 (cut, through all)
    with BuildSketch(Plane(origin=(0, 0, 0), x_dir=(-1, 0, 0), z_dir=(0, 0, -1))):
        with Locations((-17.4, -25)):
            Rectangle(SKETCH_11_W, SKETCH_11_H)
        with Locations((49.35, -25)):
            Rectangle(SKETCH_11_W_2, SKETCH_11_H)
        with Locations((21.7, -46.25)):
            Circle(SKETCH_11_R)
        with Locations((14.7, -46.25)):
            Circle(SKETCH_11_R_2)
        with Locations((28.7, -46.25)):
            Circle(SKETCH_11_R_2)
        with Locations((21.7, -39.25)):
            Circle(SKETCH_11_R_2)
        with Locations((21.7, -32.25)):
            Circle(SKETCH_11_R_2)
        with Locations((14.7, -25.25)):
            Circle(SKETCH_11_R_2)
        with Locations((21.7, -18.25)):
            Circle(SKETCH_11_R_2)
        with Locations((28.7, -25.25)):
            Circle(SKETCH_11_R_2)
        with Locations((21.7, -25.25)):
            Circle(SKETCH_11_R)
        with Locations((4.2, -35.75)):
            Circle(SKETCH_11_R_2)
    extrude(amount=-CUT_EXTRUDE_7_DEPTH, mode=Mode.SUBTRACT)

    # 草图12 wall → 筋4 (add, up to next)
    with BuildSketch(Plane(origin=(-44.7, -15, 15.5), x_dir=(0, 0.768221279597, 0.640184399664), z_dir=(0, 0.640184399664, -0.768221279597)), mode=Mode.PRIVATE) as rib_4_sk1:
        with Locations((0, 1)):
            Rectangle(SKETCH_12_WALL_W, SKETCH_12_WALL_H)
    rib_4_tool1 = extrude(rib_4_sk1.sketch, amount=RIB_4_REACH, mode=Mode.PRIVATE) - part.part
    add(rib_4_tool1.solids().sort_by_distance((-44.7, -15, 15.5))[0])

    # 圆角1
    fillet_1_edges = [part.edges().sort_by_distance(p)[0] for p in [
        (-35, 4, 4.5),
        (-45, 8, 4.5),
        (45, 8, 4.5),
        (35, 4, 4.5),
        (8.8, 0, 1.5),
        (-44.7, 0, 14),
        (-42.7, -15, 3),
        (-42.7, 0, 15.5),
    ]]
    fillet(fillet_1_edges, radius=FILLET_1_R)

    # 圆角2
    fillet_2_edges = [part.edges().sort_by_distance(p)[0] for p in [
        (-44.7, -50, 1.5),
        (8.8, -50, 1.5),
        (-24.238259457, 20, 2.25),
        (-14.238259457, 23.6193749, 2.25),
        (-14.238259457, 20, 2.25),
        (-24.238259457, 23.6193749, 2.25),
        (-55, 20, 2.25),
        (55, 20, 2.25),
        (36.561740543, 23.6193749, 2.25),
        (36.561740543, 20, 2.25),
        (26.561740543, 20, 2.25),
        (26.561740543, 23.6193749, 2.25),
    ]]
    fillet(fillet_2_edges, radius=FILLET_2_R)

    # 圆角3
    fillet_3_edges = [part.edges().sort_by_distance(p)[0] for p in [
        (-55, 4, 49.5),
        (-35, 4, 49.5),
        (55, 4, 49.5),
        (35, 4, 49.5),
    ]]
    fillet(fillet_3_edges, radius=FILLET_3_R)


solid = part.part
